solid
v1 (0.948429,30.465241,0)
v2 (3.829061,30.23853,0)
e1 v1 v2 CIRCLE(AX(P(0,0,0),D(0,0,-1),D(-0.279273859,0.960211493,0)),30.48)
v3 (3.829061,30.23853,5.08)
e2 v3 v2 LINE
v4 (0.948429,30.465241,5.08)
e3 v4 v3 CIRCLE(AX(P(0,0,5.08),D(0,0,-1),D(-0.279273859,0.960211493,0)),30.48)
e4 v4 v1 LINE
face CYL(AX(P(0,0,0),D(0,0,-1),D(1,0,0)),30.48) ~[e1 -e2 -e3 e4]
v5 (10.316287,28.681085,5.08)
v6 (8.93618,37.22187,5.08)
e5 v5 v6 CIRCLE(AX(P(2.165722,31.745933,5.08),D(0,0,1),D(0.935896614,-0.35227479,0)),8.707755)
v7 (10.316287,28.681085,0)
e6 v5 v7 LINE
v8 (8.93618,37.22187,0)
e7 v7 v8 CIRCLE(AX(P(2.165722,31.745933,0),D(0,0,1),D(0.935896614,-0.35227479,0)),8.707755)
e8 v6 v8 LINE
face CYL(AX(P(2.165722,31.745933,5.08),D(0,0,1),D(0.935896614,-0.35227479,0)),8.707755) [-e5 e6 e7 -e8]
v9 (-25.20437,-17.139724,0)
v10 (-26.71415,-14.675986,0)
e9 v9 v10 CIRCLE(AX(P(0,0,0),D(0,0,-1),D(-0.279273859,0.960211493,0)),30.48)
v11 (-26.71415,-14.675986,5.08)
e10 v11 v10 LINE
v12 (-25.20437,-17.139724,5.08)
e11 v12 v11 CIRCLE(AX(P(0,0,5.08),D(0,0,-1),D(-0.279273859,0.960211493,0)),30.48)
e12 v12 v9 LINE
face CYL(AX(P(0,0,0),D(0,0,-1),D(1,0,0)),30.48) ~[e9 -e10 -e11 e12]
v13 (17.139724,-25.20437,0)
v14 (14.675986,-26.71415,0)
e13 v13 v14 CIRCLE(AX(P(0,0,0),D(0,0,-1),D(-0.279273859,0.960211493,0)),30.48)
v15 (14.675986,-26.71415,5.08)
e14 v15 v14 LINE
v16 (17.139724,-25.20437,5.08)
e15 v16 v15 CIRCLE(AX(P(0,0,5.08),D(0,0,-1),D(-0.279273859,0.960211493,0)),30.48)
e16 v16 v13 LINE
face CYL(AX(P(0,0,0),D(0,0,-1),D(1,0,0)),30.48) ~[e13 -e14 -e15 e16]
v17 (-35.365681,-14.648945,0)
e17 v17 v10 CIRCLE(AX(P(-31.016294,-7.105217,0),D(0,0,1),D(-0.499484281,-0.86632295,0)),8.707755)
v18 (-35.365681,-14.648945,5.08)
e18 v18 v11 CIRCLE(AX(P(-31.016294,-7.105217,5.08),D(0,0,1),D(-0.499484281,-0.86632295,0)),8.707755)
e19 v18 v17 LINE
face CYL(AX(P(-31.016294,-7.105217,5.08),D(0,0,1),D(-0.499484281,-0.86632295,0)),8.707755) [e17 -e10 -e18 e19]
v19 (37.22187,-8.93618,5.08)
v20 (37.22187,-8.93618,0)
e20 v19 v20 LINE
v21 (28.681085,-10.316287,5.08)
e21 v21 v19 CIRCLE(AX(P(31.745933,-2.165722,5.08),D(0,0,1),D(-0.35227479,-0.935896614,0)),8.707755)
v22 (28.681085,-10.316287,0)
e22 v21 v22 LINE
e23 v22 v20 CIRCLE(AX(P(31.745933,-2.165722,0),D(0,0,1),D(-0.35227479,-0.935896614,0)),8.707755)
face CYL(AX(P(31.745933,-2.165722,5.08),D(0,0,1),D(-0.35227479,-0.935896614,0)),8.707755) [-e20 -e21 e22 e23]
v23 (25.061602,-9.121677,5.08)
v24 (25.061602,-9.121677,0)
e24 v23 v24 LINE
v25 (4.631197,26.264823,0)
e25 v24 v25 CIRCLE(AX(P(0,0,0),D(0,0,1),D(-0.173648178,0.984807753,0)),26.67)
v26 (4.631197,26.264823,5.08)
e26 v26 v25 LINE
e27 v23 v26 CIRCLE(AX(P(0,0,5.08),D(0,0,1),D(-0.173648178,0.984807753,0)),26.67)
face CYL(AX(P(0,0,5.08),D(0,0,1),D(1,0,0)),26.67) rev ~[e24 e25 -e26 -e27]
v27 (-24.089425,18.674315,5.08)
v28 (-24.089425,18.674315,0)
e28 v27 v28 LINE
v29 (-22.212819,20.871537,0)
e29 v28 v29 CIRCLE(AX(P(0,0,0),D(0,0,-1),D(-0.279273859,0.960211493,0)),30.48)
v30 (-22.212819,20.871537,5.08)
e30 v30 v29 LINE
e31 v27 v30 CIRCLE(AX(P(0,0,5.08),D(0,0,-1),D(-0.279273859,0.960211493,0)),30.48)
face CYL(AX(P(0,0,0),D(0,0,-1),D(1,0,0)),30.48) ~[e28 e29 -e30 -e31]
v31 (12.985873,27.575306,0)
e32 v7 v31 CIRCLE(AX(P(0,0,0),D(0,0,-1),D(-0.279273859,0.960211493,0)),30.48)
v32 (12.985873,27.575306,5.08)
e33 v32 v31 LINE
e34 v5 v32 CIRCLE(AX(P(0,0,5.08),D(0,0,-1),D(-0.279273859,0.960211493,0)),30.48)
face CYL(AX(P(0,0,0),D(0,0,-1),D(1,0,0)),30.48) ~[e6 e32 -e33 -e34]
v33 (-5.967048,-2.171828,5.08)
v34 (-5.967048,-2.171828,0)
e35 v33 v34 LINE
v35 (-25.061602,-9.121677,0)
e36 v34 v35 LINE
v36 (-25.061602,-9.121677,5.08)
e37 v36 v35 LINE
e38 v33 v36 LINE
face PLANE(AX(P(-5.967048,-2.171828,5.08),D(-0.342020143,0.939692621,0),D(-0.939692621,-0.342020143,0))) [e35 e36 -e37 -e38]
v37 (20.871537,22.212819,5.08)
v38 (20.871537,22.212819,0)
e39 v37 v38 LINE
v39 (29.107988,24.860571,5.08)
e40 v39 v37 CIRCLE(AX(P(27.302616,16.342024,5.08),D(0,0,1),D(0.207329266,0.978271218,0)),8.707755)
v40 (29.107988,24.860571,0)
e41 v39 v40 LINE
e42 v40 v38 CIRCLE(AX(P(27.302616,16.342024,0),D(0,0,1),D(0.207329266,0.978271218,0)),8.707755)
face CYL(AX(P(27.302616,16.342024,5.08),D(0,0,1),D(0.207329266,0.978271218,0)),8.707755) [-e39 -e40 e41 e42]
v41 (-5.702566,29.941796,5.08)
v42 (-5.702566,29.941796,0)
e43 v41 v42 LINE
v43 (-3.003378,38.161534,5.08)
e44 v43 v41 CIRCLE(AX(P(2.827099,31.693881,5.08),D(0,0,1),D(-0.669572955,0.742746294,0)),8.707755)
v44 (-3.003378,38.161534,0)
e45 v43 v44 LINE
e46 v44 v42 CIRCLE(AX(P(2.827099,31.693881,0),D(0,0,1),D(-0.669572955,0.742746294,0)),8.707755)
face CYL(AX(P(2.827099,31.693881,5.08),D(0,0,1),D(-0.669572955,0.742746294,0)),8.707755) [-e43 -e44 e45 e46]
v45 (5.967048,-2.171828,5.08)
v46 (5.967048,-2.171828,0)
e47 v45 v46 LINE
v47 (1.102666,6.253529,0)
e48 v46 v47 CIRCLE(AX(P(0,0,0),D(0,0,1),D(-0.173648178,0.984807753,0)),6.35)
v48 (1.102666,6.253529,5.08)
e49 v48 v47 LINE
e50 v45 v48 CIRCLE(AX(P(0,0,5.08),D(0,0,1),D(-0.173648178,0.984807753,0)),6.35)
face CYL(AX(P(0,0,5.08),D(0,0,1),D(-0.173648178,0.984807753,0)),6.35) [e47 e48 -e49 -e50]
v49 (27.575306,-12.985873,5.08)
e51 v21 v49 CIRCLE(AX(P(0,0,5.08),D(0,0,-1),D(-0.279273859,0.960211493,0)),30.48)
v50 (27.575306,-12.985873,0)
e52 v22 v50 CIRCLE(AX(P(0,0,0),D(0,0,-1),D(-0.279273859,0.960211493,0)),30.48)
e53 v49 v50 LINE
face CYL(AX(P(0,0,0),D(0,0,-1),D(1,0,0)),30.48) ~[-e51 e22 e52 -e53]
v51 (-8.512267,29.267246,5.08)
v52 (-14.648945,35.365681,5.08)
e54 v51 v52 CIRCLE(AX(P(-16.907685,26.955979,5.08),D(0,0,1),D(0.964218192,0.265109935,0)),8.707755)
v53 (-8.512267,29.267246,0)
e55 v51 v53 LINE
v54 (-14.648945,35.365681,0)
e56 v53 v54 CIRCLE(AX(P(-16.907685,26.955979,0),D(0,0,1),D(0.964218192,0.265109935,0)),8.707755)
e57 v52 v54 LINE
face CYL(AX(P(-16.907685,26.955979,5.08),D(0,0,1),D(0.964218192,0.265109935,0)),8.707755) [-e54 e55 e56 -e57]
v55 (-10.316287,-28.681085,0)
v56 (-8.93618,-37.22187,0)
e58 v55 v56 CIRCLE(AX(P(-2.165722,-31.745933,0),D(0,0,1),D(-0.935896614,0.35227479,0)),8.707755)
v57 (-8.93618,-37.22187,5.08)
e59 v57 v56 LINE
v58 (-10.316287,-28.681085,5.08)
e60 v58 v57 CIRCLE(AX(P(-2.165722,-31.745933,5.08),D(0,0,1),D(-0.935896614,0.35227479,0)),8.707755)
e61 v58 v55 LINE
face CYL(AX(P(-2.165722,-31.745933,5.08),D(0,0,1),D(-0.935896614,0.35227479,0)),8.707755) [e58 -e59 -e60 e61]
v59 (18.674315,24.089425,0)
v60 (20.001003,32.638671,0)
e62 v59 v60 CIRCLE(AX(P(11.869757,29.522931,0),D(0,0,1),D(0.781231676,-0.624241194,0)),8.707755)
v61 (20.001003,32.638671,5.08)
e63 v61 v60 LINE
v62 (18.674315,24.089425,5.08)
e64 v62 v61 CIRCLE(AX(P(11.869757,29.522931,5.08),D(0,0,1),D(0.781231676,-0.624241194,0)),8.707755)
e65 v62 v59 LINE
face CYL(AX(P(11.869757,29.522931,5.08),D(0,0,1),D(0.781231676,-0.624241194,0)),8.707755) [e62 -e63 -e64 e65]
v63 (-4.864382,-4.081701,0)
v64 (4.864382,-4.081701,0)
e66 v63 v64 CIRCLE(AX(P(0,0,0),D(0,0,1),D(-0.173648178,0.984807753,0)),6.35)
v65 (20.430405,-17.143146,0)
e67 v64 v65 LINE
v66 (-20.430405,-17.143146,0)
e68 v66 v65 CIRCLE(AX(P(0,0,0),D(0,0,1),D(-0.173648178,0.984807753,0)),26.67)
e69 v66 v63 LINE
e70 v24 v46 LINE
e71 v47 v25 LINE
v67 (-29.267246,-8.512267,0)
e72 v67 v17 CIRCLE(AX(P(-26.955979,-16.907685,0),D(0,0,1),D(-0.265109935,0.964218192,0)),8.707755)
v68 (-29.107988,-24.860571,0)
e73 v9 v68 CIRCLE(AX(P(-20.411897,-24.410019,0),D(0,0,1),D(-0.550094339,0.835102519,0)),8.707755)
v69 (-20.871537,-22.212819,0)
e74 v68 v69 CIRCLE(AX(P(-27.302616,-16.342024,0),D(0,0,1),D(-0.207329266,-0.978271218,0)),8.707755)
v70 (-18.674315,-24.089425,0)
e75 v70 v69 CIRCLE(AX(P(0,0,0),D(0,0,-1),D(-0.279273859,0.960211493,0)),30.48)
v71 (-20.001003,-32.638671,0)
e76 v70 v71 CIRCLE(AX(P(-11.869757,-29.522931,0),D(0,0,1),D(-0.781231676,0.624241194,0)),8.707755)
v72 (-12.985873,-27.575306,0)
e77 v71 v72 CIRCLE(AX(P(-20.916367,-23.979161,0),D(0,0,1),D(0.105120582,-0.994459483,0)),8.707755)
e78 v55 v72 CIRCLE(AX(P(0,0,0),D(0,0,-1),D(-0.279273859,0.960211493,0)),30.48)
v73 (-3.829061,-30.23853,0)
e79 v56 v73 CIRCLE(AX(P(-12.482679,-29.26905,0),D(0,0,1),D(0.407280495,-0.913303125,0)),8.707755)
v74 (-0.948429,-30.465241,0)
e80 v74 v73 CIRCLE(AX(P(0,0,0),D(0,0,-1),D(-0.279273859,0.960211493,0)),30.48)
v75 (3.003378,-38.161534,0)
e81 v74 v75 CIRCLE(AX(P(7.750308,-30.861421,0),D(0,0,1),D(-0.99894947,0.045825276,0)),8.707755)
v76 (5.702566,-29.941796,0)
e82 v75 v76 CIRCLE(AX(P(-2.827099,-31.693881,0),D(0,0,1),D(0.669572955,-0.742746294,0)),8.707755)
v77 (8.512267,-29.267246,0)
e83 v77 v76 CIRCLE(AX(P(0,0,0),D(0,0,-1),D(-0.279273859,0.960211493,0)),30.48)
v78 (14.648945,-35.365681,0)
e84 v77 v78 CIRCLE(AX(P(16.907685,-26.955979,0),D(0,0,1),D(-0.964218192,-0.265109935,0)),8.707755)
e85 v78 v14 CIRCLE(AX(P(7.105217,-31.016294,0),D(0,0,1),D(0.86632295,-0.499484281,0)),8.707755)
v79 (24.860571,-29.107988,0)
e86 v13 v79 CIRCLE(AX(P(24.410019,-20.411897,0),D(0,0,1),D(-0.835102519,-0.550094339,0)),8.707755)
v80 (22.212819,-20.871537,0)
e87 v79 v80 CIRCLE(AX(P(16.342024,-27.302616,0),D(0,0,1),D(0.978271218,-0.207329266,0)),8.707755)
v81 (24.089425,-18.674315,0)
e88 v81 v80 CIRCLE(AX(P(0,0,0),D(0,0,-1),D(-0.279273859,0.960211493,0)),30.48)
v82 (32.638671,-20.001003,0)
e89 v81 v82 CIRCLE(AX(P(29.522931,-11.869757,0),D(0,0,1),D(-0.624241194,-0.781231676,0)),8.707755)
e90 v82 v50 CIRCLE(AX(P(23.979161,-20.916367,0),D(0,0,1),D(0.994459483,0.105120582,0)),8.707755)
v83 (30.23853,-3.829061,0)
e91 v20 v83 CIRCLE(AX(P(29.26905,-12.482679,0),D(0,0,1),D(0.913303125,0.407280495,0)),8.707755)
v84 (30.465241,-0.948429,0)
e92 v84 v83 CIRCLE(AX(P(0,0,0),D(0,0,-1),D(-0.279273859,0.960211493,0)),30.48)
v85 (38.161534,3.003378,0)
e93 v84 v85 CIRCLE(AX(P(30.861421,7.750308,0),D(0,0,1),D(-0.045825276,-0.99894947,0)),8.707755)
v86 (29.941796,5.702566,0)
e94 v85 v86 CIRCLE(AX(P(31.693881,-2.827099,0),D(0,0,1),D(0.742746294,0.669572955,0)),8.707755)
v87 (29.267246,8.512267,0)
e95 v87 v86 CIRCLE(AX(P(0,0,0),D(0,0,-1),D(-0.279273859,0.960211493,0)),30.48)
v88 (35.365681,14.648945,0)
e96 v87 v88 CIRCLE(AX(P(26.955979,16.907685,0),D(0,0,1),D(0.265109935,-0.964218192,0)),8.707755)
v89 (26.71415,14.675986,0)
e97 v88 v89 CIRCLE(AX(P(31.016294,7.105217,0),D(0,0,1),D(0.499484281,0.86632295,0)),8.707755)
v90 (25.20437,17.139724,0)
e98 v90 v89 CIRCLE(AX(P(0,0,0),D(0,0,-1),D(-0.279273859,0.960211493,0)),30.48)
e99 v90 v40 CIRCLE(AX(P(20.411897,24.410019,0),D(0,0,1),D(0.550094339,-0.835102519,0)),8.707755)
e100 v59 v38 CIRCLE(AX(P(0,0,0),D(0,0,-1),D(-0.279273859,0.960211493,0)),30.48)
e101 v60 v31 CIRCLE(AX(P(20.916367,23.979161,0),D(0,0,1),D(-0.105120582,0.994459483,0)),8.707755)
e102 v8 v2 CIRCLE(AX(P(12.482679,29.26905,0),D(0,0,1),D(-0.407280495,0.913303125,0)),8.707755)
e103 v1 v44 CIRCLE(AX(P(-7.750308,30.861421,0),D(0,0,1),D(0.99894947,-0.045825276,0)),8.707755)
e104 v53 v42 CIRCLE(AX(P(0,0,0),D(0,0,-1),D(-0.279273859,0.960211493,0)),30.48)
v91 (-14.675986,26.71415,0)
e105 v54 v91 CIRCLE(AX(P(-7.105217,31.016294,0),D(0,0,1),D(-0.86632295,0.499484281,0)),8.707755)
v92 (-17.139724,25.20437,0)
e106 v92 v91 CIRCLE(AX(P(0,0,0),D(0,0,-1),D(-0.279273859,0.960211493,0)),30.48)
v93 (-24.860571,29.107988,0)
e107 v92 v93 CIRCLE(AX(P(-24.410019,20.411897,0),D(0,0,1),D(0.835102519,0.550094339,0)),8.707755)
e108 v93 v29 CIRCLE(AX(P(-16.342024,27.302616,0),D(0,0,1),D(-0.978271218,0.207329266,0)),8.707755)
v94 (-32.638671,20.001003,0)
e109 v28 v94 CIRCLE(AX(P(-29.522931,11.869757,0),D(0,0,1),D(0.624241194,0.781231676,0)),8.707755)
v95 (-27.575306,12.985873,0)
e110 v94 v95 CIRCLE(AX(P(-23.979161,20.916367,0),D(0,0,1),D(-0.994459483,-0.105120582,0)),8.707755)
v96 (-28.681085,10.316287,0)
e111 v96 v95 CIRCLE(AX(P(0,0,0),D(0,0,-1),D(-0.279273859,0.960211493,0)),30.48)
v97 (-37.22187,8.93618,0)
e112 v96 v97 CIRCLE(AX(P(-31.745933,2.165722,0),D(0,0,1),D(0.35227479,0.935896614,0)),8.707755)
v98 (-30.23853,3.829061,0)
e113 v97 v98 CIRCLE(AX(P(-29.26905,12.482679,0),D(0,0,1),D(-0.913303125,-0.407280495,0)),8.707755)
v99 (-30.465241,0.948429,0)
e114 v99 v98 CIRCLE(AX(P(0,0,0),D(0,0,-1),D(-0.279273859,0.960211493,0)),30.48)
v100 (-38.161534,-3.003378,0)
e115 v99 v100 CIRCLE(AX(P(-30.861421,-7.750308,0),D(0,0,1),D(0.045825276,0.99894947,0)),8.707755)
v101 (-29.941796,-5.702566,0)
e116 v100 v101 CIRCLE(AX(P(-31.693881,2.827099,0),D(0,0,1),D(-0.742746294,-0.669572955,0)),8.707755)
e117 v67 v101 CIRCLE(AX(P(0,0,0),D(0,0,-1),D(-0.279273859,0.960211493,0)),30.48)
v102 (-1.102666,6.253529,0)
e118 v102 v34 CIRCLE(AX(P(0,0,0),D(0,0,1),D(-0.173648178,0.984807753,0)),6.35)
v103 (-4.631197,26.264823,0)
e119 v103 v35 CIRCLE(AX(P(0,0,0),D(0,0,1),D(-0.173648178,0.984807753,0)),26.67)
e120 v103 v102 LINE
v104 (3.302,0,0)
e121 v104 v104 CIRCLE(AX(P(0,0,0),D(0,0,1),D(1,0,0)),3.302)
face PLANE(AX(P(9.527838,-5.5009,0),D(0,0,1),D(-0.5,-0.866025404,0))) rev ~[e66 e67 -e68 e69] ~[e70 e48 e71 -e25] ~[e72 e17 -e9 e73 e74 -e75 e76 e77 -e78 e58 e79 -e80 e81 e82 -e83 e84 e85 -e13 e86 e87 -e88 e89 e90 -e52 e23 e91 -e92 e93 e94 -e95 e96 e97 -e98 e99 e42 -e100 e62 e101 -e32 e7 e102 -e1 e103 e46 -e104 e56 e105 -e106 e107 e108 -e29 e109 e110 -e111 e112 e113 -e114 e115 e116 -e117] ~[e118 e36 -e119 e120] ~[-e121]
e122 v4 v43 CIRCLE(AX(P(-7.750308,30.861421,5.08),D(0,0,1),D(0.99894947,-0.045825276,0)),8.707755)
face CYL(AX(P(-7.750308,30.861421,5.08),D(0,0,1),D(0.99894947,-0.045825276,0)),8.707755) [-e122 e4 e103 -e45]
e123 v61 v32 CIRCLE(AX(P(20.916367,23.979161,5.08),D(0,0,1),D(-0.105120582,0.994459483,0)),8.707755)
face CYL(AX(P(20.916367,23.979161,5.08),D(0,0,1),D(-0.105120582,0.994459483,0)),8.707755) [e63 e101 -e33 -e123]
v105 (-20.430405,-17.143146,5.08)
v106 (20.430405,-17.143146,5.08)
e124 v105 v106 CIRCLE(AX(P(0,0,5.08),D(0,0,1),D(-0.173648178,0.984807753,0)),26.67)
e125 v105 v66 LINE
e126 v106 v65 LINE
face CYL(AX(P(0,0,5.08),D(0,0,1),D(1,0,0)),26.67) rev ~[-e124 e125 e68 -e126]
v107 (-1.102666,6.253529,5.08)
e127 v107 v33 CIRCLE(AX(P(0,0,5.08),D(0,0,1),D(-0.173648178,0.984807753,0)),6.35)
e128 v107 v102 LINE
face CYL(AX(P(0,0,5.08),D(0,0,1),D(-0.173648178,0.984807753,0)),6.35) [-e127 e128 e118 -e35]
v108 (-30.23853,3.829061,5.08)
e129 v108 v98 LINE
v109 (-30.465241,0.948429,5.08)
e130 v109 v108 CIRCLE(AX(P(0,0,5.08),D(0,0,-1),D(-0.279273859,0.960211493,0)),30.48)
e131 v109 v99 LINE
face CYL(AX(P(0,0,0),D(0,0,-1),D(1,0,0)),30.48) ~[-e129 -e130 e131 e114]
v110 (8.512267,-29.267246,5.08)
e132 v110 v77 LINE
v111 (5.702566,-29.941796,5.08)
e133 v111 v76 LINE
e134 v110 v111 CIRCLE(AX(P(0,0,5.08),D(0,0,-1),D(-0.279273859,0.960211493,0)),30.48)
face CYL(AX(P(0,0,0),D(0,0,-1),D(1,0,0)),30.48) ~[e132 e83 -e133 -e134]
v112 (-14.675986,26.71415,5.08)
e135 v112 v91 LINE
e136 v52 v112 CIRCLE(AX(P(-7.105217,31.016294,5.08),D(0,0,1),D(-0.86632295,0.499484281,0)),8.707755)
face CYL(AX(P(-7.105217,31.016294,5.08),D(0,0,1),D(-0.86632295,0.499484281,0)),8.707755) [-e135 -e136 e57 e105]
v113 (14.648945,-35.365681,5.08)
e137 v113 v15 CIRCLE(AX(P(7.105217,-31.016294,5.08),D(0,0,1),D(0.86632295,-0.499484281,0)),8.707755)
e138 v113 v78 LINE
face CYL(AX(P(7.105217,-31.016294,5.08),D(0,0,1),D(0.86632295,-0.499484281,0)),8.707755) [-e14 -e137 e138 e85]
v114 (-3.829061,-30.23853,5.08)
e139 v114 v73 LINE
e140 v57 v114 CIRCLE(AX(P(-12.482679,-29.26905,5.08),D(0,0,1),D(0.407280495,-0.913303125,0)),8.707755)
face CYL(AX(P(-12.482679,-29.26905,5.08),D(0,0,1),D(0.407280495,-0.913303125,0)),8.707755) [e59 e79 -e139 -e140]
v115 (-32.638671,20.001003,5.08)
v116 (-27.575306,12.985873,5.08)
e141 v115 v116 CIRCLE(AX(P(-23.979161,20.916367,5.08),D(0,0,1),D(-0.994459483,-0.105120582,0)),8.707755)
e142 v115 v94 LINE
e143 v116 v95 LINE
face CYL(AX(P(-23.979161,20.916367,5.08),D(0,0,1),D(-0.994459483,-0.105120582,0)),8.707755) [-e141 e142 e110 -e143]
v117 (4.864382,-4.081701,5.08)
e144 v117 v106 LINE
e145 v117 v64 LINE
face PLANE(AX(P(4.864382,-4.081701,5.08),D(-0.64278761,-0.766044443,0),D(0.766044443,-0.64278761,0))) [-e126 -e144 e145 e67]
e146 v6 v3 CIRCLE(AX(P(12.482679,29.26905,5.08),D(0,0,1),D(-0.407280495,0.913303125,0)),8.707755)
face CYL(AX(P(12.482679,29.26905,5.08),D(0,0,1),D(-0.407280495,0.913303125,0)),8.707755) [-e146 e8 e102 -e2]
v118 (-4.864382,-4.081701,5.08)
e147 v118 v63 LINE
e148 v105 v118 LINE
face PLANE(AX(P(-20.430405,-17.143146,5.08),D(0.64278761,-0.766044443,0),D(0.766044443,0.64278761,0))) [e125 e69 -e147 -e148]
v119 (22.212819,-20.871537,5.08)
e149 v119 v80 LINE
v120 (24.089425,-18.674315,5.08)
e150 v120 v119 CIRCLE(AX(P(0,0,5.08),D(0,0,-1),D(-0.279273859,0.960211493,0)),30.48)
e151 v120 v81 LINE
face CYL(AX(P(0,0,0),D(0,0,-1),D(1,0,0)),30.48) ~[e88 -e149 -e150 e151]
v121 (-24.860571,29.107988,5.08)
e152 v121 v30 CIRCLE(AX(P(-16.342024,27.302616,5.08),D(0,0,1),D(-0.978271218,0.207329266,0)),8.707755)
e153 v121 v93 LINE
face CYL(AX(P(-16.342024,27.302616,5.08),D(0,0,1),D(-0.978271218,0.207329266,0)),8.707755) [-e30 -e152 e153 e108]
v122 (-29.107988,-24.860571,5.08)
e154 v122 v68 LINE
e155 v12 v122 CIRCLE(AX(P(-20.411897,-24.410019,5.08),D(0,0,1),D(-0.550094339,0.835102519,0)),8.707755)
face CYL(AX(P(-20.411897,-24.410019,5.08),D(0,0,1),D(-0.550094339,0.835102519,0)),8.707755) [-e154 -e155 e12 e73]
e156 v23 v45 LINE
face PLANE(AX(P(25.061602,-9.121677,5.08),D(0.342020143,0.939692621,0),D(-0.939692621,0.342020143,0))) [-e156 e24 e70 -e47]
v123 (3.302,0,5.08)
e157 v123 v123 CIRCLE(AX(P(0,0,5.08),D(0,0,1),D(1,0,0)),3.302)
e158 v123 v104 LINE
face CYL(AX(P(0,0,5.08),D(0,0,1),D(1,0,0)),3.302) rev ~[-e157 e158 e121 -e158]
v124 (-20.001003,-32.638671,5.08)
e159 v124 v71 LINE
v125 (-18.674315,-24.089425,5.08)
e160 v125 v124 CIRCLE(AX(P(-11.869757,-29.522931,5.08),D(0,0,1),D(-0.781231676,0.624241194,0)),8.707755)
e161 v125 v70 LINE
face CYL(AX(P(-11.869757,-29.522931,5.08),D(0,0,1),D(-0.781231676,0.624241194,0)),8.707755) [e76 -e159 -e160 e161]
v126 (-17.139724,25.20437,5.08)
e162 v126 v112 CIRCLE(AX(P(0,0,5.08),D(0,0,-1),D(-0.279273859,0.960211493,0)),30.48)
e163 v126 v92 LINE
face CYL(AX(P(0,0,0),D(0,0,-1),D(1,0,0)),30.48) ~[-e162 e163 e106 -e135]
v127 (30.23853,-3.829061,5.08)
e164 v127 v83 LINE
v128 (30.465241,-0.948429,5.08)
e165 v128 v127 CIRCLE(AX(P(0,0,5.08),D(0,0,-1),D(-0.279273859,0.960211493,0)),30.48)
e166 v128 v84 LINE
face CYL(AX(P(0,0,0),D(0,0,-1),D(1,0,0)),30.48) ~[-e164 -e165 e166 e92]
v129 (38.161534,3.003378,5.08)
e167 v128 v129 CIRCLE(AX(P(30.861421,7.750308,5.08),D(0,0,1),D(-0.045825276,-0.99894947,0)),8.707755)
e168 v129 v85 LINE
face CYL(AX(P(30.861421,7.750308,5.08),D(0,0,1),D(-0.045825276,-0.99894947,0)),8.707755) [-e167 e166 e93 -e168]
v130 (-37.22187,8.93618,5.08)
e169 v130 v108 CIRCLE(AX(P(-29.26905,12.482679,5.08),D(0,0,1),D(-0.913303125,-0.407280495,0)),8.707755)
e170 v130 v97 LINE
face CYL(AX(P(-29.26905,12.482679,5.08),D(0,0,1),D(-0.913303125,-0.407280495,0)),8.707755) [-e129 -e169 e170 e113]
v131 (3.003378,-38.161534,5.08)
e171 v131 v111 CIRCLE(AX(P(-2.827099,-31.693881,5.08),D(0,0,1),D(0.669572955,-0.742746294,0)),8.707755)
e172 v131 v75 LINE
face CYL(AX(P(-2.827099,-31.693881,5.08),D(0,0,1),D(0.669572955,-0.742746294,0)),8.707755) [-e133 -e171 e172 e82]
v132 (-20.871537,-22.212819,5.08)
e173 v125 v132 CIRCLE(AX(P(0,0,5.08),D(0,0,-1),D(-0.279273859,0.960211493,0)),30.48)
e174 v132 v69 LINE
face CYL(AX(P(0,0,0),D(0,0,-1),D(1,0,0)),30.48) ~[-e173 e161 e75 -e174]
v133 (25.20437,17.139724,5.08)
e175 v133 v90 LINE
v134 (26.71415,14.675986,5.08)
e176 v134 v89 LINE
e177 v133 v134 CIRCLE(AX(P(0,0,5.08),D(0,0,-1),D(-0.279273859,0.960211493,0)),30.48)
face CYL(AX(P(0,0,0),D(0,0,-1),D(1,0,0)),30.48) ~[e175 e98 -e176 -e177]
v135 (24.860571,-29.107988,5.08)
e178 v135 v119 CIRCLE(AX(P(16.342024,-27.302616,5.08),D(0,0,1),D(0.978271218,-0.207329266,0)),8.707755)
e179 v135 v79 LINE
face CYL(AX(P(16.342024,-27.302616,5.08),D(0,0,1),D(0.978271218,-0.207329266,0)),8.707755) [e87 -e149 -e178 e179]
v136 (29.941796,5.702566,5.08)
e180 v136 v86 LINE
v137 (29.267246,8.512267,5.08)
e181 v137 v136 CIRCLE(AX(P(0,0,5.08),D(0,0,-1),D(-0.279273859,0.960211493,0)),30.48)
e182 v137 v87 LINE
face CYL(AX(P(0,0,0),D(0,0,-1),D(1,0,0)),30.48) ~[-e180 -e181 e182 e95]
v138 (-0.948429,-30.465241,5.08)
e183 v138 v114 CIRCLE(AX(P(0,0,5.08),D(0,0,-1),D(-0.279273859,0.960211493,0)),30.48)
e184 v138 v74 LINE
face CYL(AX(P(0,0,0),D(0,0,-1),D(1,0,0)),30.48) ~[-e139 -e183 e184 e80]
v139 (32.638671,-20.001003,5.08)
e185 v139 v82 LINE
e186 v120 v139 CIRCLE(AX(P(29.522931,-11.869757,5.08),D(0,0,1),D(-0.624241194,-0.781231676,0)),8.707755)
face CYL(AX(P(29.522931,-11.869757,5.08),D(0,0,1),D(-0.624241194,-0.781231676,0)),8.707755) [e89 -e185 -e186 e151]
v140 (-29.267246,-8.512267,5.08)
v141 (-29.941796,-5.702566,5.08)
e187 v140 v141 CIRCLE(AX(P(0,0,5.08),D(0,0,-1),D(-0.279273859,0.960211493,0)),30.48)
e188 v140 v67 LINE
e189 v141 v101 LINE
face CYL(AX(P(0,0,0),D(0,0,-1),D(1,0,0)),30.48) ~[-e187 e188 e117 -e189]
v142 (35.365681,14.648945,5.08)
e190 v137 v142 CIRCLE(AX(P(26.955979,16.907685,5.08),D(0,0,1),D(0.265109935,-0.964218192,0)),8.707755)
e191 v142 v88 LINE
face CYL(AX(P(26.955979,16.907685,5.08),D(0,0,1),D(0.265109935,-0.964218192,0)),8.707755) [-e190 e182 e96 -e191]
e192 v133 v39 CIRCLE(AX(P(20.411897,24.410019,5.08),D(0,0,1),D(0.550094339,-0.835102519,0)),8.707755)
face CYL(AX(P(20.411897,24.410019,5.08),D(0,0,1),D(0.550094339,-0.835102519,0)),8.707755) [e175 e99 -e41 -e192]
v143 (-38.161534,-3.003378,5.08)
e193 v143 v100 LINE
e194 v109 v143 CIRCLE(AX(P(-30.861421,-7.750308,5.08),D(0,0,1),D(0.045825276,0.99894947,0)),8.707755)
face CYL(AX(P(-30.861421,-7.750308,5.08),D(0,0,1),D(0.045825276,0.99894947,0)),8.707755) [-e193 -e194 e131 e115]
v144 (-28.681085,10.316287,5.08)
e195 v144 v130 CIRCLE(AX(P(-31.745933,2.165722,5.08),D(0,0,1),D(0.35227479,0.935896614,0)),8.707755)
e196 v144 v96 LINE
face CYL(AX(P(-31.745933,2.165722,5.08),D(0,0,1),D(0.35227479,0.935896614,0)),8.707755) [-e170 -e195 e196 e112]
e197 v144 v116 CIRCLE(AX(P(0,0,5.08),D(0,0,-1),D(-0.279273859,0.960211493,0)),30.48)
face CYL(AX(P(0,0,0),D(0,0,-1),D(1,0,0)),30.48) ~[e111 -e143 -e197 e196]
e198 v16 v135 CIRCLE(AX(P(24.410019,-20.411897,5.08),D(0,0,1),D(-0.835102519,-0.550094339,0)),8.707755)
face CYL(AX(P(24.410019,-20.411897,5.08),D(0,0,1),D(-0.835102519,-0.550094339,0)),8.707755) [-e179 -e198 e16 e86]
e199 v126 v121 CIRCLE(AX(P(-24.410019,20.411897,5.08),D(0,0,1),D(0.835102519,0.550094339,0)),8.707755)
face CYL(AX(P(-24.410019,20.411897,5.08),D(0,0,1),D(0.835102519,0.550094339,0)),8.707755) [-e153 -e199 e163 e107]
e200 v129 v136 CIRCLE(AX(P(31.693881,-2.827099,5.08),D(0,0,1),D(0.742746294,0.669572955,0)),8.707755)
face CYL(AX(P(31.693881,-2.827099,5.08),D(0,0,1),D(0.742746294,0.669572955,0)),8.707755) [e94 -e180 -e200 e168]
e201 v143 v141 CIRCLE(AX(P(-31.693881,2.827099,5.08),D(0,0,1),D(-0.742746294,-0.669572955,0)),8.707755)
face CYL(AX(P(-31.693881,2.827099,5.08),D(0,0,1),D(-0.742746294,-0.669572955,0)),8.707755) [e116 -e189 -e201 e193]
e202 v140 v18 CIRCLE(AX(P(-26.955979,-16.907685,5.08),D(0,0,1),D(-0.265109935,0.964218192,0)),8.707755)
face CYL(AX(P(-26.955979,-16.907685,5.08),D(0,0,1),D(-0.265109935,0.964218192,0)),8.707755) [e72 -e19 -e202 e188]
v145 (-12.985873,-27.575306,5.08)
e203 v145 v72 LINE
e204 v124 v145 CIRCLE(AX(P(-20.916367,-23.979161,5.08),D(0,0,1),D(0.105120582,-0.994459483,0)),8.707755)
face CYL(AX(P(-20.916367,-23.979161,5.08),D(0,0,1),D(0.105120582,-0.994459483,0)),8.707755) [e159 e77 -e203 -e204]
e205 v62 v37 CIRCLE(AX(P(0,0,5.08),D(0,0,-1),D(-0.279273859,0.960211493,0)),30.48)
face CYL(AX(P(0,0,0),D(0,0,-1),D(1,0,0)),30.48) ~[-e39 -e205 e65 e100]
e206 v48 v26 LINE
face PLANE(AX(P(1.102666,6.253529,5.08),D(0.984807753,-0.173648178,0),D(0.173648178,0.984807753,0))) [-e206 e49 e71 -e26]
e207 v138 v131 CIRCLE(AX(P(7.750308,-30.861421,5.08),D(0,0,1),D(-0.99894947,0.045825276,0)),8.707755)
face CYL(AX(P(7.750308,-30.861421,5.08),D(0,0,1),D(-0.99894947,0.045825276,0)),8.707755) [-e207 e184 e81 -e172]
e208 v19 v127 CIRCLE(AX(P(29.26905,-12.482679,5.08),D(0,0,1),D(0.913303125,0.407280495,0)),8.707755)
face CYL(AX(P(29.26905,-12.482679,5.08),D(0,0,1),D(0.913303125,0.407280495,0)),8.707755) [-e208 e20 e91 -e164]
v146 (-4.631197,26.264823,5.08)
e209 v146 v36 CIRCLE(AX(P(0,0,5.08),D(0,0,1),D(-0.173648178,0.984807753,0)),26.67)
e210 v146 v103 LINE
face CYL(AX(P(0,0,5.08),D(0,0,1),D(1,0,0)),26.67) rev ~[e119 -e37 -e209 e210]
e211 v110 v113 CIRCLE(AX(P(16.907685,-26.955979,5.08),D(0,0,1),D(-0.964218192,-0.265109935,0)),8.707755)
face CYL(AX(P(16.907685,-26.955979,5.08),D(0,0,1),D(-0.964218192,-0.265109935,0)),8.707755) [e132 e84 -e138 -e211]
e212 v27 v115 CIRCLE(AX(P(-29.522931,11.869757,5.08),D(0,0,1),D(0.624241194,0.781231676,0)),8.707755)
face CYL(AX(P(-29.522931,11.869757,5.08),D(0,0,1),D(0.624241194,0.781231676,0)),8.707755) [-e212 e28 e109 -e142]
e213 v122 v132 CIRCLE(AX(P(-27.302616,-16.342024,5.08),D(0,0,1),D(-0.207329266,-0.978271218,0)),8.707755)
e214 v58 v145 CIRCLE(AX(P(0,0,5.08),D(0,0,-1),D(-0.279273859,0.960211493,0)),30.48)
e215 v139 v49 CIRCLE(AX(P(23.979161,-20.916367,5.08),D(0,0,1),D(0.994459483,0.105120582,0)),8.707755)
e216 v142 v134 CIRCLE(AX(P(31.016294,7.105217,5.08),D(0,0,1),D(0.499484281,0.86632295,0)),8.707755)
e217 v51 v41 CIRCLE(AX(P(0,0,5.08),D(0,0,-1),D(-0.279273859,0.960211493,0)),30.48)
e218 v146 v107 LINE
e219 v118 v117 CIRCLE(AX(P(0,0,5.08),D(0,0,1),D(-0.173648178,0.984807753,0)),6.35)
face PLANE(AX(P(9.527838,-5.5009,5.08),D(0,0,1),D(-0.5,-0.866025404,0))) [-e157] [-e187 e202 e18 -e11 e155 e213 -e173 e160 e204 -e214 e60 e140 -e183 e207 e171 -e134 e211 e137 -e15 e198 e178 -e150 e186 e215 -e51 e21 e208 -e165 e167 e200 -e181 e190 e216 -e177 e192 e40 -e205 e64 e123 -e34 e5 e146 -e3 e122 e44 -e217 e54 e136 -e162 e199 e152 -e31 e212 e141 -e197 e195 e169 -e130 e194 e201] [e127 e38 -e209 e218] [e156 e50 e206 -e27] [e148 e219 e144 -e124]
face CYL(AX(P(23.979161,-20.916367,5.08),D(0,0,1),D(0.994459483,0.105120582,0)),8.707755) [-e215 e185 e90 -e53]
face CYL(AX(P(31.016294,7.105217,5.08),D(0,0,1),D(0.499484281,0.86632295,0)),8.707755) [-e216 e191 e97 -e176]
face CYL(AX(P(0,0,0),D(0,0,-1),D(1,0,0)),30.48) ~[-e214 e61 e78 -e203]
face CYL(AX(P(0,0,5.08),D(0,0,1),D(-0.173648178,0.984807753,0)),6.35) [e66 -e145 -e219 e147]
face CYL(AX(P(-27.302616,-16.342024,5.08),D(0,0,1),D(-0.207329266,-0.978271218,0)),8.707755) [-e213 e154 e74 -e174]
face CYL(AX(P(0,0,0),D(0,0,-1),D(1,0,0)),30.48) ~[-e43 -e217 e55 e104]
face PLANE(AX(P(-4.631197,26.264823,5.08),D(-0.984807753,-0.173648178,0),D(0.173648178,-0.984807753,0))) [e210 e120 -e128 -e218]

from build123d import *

# Parameters (mm, degrees)
F0_R      = 30.48
F1_DEPTH  = 5.08
F3_DEPTH  = 5.08
F4_COUNT  = 20
F5_R      = 26.67
F6_DEPTH  = 5.081
F7_DEPTH  = 5.081
F9_DEPTH  = 5.08
F10_COUNT = 3
F11_R     = 3.302
F12_DEPTH = 5.081


with BuildPart() as f1:
    # F0 (on Top) → F1 (new body)
    with BuildSketch(Plane.XY):
        Circle(F0_R)
    extrude(amount=F1_DEPTH)

    # F4: F3 ×20 about axis
    f4_axis = Axis((0, 0, 5.08), (0, 0, 1))


with BuildPart() as f3:
    # F2 (on face) → F3 (new body, through all)
    with BuildSketch(Plane.XY.offset(5.08)):
        with BuildLine():
            Line((-5.7019906833, 29.9389965966), (0.9482987996, 30.4623857298))
            ThreePointArc((0.9482987996, 30.4623857298), (-0.0033837458, 34.8376195512), (-3.0033778465, 38.1615338182))
            ThreePointArc((-3.0033778465, 38.1615338182), (-5.4464622915, 34.4092399792), (-5.7019906833, 29.9389965966))
        make_face()
    extrude(amount=-F3_DEPTH)


with BuildPart() as f1_1:
    add(f1.part)
    for i in range(1, F4_COUNT):
        add(f3.part.rotate(f4_axis, i * 360 / F4_COUNT))

    # F5 (on face) → F6 (cut, through all)
    with BuildSketch(Plane.XY.offset(5.08)):
        Circle(F5_R)
    extrude(amount=-F6_DEPTH, mode=Mode.SUBTRACT)

    # F5 (on face) → F7 (cut, through all)
    with BuildSketch(Plane.XY.offset(5.08)):
        Circle(F5_R)
    extrude(amount=-F7_DEPTH, mode=Mode.SUBTRACT)



with BuildPart() as f9:
    # F8 (on face) → F9 (new body, through all)
    with BuildSketch(Plane.XY.offset(5.08)):
        with BuildLine():
            Line((-4.6311968984, 26.2648227728), (-1.1026659282, 6.2535292316))
            ThreePointArc((-1.1026659282, 6.2535292316), (0, -6.35), (1.1026659282, 6.2535292316))
            Line((1.1026659282, 6.2535292316), (4.6311968984, 26.2648227728))
            ThreePointArc((4.6311968984, 26.2648227728), (0, 26.67), (-4.6311968984, 26.2648227728))
        make_face()
    extrude(amount=-F9_DEPTH)


with BuildPart() as f1_2:
    add(f1_1.part)

    add(f3.part)  # F10 merges F3

    add(f9.part)  # F10 merges F9
    # F10: F9 ×3 about axis
    f10_axis = Axis((0, 0, 5.08), (0, 0, 1))
    for i in range(1, F10_COUNT):
        add(f9.part.rotate(f10_axis, i * 360 / F10_COUNT))

    # F11 (on face) → F12 (cut, through all)
    with BuildSketch(Plane.XY.offset(5.08)):
        Circle(F11_R)
    extrude(amount=-F12_DEPTH, mode=Mode.SUBTRACT)


solid = f1_2.part
